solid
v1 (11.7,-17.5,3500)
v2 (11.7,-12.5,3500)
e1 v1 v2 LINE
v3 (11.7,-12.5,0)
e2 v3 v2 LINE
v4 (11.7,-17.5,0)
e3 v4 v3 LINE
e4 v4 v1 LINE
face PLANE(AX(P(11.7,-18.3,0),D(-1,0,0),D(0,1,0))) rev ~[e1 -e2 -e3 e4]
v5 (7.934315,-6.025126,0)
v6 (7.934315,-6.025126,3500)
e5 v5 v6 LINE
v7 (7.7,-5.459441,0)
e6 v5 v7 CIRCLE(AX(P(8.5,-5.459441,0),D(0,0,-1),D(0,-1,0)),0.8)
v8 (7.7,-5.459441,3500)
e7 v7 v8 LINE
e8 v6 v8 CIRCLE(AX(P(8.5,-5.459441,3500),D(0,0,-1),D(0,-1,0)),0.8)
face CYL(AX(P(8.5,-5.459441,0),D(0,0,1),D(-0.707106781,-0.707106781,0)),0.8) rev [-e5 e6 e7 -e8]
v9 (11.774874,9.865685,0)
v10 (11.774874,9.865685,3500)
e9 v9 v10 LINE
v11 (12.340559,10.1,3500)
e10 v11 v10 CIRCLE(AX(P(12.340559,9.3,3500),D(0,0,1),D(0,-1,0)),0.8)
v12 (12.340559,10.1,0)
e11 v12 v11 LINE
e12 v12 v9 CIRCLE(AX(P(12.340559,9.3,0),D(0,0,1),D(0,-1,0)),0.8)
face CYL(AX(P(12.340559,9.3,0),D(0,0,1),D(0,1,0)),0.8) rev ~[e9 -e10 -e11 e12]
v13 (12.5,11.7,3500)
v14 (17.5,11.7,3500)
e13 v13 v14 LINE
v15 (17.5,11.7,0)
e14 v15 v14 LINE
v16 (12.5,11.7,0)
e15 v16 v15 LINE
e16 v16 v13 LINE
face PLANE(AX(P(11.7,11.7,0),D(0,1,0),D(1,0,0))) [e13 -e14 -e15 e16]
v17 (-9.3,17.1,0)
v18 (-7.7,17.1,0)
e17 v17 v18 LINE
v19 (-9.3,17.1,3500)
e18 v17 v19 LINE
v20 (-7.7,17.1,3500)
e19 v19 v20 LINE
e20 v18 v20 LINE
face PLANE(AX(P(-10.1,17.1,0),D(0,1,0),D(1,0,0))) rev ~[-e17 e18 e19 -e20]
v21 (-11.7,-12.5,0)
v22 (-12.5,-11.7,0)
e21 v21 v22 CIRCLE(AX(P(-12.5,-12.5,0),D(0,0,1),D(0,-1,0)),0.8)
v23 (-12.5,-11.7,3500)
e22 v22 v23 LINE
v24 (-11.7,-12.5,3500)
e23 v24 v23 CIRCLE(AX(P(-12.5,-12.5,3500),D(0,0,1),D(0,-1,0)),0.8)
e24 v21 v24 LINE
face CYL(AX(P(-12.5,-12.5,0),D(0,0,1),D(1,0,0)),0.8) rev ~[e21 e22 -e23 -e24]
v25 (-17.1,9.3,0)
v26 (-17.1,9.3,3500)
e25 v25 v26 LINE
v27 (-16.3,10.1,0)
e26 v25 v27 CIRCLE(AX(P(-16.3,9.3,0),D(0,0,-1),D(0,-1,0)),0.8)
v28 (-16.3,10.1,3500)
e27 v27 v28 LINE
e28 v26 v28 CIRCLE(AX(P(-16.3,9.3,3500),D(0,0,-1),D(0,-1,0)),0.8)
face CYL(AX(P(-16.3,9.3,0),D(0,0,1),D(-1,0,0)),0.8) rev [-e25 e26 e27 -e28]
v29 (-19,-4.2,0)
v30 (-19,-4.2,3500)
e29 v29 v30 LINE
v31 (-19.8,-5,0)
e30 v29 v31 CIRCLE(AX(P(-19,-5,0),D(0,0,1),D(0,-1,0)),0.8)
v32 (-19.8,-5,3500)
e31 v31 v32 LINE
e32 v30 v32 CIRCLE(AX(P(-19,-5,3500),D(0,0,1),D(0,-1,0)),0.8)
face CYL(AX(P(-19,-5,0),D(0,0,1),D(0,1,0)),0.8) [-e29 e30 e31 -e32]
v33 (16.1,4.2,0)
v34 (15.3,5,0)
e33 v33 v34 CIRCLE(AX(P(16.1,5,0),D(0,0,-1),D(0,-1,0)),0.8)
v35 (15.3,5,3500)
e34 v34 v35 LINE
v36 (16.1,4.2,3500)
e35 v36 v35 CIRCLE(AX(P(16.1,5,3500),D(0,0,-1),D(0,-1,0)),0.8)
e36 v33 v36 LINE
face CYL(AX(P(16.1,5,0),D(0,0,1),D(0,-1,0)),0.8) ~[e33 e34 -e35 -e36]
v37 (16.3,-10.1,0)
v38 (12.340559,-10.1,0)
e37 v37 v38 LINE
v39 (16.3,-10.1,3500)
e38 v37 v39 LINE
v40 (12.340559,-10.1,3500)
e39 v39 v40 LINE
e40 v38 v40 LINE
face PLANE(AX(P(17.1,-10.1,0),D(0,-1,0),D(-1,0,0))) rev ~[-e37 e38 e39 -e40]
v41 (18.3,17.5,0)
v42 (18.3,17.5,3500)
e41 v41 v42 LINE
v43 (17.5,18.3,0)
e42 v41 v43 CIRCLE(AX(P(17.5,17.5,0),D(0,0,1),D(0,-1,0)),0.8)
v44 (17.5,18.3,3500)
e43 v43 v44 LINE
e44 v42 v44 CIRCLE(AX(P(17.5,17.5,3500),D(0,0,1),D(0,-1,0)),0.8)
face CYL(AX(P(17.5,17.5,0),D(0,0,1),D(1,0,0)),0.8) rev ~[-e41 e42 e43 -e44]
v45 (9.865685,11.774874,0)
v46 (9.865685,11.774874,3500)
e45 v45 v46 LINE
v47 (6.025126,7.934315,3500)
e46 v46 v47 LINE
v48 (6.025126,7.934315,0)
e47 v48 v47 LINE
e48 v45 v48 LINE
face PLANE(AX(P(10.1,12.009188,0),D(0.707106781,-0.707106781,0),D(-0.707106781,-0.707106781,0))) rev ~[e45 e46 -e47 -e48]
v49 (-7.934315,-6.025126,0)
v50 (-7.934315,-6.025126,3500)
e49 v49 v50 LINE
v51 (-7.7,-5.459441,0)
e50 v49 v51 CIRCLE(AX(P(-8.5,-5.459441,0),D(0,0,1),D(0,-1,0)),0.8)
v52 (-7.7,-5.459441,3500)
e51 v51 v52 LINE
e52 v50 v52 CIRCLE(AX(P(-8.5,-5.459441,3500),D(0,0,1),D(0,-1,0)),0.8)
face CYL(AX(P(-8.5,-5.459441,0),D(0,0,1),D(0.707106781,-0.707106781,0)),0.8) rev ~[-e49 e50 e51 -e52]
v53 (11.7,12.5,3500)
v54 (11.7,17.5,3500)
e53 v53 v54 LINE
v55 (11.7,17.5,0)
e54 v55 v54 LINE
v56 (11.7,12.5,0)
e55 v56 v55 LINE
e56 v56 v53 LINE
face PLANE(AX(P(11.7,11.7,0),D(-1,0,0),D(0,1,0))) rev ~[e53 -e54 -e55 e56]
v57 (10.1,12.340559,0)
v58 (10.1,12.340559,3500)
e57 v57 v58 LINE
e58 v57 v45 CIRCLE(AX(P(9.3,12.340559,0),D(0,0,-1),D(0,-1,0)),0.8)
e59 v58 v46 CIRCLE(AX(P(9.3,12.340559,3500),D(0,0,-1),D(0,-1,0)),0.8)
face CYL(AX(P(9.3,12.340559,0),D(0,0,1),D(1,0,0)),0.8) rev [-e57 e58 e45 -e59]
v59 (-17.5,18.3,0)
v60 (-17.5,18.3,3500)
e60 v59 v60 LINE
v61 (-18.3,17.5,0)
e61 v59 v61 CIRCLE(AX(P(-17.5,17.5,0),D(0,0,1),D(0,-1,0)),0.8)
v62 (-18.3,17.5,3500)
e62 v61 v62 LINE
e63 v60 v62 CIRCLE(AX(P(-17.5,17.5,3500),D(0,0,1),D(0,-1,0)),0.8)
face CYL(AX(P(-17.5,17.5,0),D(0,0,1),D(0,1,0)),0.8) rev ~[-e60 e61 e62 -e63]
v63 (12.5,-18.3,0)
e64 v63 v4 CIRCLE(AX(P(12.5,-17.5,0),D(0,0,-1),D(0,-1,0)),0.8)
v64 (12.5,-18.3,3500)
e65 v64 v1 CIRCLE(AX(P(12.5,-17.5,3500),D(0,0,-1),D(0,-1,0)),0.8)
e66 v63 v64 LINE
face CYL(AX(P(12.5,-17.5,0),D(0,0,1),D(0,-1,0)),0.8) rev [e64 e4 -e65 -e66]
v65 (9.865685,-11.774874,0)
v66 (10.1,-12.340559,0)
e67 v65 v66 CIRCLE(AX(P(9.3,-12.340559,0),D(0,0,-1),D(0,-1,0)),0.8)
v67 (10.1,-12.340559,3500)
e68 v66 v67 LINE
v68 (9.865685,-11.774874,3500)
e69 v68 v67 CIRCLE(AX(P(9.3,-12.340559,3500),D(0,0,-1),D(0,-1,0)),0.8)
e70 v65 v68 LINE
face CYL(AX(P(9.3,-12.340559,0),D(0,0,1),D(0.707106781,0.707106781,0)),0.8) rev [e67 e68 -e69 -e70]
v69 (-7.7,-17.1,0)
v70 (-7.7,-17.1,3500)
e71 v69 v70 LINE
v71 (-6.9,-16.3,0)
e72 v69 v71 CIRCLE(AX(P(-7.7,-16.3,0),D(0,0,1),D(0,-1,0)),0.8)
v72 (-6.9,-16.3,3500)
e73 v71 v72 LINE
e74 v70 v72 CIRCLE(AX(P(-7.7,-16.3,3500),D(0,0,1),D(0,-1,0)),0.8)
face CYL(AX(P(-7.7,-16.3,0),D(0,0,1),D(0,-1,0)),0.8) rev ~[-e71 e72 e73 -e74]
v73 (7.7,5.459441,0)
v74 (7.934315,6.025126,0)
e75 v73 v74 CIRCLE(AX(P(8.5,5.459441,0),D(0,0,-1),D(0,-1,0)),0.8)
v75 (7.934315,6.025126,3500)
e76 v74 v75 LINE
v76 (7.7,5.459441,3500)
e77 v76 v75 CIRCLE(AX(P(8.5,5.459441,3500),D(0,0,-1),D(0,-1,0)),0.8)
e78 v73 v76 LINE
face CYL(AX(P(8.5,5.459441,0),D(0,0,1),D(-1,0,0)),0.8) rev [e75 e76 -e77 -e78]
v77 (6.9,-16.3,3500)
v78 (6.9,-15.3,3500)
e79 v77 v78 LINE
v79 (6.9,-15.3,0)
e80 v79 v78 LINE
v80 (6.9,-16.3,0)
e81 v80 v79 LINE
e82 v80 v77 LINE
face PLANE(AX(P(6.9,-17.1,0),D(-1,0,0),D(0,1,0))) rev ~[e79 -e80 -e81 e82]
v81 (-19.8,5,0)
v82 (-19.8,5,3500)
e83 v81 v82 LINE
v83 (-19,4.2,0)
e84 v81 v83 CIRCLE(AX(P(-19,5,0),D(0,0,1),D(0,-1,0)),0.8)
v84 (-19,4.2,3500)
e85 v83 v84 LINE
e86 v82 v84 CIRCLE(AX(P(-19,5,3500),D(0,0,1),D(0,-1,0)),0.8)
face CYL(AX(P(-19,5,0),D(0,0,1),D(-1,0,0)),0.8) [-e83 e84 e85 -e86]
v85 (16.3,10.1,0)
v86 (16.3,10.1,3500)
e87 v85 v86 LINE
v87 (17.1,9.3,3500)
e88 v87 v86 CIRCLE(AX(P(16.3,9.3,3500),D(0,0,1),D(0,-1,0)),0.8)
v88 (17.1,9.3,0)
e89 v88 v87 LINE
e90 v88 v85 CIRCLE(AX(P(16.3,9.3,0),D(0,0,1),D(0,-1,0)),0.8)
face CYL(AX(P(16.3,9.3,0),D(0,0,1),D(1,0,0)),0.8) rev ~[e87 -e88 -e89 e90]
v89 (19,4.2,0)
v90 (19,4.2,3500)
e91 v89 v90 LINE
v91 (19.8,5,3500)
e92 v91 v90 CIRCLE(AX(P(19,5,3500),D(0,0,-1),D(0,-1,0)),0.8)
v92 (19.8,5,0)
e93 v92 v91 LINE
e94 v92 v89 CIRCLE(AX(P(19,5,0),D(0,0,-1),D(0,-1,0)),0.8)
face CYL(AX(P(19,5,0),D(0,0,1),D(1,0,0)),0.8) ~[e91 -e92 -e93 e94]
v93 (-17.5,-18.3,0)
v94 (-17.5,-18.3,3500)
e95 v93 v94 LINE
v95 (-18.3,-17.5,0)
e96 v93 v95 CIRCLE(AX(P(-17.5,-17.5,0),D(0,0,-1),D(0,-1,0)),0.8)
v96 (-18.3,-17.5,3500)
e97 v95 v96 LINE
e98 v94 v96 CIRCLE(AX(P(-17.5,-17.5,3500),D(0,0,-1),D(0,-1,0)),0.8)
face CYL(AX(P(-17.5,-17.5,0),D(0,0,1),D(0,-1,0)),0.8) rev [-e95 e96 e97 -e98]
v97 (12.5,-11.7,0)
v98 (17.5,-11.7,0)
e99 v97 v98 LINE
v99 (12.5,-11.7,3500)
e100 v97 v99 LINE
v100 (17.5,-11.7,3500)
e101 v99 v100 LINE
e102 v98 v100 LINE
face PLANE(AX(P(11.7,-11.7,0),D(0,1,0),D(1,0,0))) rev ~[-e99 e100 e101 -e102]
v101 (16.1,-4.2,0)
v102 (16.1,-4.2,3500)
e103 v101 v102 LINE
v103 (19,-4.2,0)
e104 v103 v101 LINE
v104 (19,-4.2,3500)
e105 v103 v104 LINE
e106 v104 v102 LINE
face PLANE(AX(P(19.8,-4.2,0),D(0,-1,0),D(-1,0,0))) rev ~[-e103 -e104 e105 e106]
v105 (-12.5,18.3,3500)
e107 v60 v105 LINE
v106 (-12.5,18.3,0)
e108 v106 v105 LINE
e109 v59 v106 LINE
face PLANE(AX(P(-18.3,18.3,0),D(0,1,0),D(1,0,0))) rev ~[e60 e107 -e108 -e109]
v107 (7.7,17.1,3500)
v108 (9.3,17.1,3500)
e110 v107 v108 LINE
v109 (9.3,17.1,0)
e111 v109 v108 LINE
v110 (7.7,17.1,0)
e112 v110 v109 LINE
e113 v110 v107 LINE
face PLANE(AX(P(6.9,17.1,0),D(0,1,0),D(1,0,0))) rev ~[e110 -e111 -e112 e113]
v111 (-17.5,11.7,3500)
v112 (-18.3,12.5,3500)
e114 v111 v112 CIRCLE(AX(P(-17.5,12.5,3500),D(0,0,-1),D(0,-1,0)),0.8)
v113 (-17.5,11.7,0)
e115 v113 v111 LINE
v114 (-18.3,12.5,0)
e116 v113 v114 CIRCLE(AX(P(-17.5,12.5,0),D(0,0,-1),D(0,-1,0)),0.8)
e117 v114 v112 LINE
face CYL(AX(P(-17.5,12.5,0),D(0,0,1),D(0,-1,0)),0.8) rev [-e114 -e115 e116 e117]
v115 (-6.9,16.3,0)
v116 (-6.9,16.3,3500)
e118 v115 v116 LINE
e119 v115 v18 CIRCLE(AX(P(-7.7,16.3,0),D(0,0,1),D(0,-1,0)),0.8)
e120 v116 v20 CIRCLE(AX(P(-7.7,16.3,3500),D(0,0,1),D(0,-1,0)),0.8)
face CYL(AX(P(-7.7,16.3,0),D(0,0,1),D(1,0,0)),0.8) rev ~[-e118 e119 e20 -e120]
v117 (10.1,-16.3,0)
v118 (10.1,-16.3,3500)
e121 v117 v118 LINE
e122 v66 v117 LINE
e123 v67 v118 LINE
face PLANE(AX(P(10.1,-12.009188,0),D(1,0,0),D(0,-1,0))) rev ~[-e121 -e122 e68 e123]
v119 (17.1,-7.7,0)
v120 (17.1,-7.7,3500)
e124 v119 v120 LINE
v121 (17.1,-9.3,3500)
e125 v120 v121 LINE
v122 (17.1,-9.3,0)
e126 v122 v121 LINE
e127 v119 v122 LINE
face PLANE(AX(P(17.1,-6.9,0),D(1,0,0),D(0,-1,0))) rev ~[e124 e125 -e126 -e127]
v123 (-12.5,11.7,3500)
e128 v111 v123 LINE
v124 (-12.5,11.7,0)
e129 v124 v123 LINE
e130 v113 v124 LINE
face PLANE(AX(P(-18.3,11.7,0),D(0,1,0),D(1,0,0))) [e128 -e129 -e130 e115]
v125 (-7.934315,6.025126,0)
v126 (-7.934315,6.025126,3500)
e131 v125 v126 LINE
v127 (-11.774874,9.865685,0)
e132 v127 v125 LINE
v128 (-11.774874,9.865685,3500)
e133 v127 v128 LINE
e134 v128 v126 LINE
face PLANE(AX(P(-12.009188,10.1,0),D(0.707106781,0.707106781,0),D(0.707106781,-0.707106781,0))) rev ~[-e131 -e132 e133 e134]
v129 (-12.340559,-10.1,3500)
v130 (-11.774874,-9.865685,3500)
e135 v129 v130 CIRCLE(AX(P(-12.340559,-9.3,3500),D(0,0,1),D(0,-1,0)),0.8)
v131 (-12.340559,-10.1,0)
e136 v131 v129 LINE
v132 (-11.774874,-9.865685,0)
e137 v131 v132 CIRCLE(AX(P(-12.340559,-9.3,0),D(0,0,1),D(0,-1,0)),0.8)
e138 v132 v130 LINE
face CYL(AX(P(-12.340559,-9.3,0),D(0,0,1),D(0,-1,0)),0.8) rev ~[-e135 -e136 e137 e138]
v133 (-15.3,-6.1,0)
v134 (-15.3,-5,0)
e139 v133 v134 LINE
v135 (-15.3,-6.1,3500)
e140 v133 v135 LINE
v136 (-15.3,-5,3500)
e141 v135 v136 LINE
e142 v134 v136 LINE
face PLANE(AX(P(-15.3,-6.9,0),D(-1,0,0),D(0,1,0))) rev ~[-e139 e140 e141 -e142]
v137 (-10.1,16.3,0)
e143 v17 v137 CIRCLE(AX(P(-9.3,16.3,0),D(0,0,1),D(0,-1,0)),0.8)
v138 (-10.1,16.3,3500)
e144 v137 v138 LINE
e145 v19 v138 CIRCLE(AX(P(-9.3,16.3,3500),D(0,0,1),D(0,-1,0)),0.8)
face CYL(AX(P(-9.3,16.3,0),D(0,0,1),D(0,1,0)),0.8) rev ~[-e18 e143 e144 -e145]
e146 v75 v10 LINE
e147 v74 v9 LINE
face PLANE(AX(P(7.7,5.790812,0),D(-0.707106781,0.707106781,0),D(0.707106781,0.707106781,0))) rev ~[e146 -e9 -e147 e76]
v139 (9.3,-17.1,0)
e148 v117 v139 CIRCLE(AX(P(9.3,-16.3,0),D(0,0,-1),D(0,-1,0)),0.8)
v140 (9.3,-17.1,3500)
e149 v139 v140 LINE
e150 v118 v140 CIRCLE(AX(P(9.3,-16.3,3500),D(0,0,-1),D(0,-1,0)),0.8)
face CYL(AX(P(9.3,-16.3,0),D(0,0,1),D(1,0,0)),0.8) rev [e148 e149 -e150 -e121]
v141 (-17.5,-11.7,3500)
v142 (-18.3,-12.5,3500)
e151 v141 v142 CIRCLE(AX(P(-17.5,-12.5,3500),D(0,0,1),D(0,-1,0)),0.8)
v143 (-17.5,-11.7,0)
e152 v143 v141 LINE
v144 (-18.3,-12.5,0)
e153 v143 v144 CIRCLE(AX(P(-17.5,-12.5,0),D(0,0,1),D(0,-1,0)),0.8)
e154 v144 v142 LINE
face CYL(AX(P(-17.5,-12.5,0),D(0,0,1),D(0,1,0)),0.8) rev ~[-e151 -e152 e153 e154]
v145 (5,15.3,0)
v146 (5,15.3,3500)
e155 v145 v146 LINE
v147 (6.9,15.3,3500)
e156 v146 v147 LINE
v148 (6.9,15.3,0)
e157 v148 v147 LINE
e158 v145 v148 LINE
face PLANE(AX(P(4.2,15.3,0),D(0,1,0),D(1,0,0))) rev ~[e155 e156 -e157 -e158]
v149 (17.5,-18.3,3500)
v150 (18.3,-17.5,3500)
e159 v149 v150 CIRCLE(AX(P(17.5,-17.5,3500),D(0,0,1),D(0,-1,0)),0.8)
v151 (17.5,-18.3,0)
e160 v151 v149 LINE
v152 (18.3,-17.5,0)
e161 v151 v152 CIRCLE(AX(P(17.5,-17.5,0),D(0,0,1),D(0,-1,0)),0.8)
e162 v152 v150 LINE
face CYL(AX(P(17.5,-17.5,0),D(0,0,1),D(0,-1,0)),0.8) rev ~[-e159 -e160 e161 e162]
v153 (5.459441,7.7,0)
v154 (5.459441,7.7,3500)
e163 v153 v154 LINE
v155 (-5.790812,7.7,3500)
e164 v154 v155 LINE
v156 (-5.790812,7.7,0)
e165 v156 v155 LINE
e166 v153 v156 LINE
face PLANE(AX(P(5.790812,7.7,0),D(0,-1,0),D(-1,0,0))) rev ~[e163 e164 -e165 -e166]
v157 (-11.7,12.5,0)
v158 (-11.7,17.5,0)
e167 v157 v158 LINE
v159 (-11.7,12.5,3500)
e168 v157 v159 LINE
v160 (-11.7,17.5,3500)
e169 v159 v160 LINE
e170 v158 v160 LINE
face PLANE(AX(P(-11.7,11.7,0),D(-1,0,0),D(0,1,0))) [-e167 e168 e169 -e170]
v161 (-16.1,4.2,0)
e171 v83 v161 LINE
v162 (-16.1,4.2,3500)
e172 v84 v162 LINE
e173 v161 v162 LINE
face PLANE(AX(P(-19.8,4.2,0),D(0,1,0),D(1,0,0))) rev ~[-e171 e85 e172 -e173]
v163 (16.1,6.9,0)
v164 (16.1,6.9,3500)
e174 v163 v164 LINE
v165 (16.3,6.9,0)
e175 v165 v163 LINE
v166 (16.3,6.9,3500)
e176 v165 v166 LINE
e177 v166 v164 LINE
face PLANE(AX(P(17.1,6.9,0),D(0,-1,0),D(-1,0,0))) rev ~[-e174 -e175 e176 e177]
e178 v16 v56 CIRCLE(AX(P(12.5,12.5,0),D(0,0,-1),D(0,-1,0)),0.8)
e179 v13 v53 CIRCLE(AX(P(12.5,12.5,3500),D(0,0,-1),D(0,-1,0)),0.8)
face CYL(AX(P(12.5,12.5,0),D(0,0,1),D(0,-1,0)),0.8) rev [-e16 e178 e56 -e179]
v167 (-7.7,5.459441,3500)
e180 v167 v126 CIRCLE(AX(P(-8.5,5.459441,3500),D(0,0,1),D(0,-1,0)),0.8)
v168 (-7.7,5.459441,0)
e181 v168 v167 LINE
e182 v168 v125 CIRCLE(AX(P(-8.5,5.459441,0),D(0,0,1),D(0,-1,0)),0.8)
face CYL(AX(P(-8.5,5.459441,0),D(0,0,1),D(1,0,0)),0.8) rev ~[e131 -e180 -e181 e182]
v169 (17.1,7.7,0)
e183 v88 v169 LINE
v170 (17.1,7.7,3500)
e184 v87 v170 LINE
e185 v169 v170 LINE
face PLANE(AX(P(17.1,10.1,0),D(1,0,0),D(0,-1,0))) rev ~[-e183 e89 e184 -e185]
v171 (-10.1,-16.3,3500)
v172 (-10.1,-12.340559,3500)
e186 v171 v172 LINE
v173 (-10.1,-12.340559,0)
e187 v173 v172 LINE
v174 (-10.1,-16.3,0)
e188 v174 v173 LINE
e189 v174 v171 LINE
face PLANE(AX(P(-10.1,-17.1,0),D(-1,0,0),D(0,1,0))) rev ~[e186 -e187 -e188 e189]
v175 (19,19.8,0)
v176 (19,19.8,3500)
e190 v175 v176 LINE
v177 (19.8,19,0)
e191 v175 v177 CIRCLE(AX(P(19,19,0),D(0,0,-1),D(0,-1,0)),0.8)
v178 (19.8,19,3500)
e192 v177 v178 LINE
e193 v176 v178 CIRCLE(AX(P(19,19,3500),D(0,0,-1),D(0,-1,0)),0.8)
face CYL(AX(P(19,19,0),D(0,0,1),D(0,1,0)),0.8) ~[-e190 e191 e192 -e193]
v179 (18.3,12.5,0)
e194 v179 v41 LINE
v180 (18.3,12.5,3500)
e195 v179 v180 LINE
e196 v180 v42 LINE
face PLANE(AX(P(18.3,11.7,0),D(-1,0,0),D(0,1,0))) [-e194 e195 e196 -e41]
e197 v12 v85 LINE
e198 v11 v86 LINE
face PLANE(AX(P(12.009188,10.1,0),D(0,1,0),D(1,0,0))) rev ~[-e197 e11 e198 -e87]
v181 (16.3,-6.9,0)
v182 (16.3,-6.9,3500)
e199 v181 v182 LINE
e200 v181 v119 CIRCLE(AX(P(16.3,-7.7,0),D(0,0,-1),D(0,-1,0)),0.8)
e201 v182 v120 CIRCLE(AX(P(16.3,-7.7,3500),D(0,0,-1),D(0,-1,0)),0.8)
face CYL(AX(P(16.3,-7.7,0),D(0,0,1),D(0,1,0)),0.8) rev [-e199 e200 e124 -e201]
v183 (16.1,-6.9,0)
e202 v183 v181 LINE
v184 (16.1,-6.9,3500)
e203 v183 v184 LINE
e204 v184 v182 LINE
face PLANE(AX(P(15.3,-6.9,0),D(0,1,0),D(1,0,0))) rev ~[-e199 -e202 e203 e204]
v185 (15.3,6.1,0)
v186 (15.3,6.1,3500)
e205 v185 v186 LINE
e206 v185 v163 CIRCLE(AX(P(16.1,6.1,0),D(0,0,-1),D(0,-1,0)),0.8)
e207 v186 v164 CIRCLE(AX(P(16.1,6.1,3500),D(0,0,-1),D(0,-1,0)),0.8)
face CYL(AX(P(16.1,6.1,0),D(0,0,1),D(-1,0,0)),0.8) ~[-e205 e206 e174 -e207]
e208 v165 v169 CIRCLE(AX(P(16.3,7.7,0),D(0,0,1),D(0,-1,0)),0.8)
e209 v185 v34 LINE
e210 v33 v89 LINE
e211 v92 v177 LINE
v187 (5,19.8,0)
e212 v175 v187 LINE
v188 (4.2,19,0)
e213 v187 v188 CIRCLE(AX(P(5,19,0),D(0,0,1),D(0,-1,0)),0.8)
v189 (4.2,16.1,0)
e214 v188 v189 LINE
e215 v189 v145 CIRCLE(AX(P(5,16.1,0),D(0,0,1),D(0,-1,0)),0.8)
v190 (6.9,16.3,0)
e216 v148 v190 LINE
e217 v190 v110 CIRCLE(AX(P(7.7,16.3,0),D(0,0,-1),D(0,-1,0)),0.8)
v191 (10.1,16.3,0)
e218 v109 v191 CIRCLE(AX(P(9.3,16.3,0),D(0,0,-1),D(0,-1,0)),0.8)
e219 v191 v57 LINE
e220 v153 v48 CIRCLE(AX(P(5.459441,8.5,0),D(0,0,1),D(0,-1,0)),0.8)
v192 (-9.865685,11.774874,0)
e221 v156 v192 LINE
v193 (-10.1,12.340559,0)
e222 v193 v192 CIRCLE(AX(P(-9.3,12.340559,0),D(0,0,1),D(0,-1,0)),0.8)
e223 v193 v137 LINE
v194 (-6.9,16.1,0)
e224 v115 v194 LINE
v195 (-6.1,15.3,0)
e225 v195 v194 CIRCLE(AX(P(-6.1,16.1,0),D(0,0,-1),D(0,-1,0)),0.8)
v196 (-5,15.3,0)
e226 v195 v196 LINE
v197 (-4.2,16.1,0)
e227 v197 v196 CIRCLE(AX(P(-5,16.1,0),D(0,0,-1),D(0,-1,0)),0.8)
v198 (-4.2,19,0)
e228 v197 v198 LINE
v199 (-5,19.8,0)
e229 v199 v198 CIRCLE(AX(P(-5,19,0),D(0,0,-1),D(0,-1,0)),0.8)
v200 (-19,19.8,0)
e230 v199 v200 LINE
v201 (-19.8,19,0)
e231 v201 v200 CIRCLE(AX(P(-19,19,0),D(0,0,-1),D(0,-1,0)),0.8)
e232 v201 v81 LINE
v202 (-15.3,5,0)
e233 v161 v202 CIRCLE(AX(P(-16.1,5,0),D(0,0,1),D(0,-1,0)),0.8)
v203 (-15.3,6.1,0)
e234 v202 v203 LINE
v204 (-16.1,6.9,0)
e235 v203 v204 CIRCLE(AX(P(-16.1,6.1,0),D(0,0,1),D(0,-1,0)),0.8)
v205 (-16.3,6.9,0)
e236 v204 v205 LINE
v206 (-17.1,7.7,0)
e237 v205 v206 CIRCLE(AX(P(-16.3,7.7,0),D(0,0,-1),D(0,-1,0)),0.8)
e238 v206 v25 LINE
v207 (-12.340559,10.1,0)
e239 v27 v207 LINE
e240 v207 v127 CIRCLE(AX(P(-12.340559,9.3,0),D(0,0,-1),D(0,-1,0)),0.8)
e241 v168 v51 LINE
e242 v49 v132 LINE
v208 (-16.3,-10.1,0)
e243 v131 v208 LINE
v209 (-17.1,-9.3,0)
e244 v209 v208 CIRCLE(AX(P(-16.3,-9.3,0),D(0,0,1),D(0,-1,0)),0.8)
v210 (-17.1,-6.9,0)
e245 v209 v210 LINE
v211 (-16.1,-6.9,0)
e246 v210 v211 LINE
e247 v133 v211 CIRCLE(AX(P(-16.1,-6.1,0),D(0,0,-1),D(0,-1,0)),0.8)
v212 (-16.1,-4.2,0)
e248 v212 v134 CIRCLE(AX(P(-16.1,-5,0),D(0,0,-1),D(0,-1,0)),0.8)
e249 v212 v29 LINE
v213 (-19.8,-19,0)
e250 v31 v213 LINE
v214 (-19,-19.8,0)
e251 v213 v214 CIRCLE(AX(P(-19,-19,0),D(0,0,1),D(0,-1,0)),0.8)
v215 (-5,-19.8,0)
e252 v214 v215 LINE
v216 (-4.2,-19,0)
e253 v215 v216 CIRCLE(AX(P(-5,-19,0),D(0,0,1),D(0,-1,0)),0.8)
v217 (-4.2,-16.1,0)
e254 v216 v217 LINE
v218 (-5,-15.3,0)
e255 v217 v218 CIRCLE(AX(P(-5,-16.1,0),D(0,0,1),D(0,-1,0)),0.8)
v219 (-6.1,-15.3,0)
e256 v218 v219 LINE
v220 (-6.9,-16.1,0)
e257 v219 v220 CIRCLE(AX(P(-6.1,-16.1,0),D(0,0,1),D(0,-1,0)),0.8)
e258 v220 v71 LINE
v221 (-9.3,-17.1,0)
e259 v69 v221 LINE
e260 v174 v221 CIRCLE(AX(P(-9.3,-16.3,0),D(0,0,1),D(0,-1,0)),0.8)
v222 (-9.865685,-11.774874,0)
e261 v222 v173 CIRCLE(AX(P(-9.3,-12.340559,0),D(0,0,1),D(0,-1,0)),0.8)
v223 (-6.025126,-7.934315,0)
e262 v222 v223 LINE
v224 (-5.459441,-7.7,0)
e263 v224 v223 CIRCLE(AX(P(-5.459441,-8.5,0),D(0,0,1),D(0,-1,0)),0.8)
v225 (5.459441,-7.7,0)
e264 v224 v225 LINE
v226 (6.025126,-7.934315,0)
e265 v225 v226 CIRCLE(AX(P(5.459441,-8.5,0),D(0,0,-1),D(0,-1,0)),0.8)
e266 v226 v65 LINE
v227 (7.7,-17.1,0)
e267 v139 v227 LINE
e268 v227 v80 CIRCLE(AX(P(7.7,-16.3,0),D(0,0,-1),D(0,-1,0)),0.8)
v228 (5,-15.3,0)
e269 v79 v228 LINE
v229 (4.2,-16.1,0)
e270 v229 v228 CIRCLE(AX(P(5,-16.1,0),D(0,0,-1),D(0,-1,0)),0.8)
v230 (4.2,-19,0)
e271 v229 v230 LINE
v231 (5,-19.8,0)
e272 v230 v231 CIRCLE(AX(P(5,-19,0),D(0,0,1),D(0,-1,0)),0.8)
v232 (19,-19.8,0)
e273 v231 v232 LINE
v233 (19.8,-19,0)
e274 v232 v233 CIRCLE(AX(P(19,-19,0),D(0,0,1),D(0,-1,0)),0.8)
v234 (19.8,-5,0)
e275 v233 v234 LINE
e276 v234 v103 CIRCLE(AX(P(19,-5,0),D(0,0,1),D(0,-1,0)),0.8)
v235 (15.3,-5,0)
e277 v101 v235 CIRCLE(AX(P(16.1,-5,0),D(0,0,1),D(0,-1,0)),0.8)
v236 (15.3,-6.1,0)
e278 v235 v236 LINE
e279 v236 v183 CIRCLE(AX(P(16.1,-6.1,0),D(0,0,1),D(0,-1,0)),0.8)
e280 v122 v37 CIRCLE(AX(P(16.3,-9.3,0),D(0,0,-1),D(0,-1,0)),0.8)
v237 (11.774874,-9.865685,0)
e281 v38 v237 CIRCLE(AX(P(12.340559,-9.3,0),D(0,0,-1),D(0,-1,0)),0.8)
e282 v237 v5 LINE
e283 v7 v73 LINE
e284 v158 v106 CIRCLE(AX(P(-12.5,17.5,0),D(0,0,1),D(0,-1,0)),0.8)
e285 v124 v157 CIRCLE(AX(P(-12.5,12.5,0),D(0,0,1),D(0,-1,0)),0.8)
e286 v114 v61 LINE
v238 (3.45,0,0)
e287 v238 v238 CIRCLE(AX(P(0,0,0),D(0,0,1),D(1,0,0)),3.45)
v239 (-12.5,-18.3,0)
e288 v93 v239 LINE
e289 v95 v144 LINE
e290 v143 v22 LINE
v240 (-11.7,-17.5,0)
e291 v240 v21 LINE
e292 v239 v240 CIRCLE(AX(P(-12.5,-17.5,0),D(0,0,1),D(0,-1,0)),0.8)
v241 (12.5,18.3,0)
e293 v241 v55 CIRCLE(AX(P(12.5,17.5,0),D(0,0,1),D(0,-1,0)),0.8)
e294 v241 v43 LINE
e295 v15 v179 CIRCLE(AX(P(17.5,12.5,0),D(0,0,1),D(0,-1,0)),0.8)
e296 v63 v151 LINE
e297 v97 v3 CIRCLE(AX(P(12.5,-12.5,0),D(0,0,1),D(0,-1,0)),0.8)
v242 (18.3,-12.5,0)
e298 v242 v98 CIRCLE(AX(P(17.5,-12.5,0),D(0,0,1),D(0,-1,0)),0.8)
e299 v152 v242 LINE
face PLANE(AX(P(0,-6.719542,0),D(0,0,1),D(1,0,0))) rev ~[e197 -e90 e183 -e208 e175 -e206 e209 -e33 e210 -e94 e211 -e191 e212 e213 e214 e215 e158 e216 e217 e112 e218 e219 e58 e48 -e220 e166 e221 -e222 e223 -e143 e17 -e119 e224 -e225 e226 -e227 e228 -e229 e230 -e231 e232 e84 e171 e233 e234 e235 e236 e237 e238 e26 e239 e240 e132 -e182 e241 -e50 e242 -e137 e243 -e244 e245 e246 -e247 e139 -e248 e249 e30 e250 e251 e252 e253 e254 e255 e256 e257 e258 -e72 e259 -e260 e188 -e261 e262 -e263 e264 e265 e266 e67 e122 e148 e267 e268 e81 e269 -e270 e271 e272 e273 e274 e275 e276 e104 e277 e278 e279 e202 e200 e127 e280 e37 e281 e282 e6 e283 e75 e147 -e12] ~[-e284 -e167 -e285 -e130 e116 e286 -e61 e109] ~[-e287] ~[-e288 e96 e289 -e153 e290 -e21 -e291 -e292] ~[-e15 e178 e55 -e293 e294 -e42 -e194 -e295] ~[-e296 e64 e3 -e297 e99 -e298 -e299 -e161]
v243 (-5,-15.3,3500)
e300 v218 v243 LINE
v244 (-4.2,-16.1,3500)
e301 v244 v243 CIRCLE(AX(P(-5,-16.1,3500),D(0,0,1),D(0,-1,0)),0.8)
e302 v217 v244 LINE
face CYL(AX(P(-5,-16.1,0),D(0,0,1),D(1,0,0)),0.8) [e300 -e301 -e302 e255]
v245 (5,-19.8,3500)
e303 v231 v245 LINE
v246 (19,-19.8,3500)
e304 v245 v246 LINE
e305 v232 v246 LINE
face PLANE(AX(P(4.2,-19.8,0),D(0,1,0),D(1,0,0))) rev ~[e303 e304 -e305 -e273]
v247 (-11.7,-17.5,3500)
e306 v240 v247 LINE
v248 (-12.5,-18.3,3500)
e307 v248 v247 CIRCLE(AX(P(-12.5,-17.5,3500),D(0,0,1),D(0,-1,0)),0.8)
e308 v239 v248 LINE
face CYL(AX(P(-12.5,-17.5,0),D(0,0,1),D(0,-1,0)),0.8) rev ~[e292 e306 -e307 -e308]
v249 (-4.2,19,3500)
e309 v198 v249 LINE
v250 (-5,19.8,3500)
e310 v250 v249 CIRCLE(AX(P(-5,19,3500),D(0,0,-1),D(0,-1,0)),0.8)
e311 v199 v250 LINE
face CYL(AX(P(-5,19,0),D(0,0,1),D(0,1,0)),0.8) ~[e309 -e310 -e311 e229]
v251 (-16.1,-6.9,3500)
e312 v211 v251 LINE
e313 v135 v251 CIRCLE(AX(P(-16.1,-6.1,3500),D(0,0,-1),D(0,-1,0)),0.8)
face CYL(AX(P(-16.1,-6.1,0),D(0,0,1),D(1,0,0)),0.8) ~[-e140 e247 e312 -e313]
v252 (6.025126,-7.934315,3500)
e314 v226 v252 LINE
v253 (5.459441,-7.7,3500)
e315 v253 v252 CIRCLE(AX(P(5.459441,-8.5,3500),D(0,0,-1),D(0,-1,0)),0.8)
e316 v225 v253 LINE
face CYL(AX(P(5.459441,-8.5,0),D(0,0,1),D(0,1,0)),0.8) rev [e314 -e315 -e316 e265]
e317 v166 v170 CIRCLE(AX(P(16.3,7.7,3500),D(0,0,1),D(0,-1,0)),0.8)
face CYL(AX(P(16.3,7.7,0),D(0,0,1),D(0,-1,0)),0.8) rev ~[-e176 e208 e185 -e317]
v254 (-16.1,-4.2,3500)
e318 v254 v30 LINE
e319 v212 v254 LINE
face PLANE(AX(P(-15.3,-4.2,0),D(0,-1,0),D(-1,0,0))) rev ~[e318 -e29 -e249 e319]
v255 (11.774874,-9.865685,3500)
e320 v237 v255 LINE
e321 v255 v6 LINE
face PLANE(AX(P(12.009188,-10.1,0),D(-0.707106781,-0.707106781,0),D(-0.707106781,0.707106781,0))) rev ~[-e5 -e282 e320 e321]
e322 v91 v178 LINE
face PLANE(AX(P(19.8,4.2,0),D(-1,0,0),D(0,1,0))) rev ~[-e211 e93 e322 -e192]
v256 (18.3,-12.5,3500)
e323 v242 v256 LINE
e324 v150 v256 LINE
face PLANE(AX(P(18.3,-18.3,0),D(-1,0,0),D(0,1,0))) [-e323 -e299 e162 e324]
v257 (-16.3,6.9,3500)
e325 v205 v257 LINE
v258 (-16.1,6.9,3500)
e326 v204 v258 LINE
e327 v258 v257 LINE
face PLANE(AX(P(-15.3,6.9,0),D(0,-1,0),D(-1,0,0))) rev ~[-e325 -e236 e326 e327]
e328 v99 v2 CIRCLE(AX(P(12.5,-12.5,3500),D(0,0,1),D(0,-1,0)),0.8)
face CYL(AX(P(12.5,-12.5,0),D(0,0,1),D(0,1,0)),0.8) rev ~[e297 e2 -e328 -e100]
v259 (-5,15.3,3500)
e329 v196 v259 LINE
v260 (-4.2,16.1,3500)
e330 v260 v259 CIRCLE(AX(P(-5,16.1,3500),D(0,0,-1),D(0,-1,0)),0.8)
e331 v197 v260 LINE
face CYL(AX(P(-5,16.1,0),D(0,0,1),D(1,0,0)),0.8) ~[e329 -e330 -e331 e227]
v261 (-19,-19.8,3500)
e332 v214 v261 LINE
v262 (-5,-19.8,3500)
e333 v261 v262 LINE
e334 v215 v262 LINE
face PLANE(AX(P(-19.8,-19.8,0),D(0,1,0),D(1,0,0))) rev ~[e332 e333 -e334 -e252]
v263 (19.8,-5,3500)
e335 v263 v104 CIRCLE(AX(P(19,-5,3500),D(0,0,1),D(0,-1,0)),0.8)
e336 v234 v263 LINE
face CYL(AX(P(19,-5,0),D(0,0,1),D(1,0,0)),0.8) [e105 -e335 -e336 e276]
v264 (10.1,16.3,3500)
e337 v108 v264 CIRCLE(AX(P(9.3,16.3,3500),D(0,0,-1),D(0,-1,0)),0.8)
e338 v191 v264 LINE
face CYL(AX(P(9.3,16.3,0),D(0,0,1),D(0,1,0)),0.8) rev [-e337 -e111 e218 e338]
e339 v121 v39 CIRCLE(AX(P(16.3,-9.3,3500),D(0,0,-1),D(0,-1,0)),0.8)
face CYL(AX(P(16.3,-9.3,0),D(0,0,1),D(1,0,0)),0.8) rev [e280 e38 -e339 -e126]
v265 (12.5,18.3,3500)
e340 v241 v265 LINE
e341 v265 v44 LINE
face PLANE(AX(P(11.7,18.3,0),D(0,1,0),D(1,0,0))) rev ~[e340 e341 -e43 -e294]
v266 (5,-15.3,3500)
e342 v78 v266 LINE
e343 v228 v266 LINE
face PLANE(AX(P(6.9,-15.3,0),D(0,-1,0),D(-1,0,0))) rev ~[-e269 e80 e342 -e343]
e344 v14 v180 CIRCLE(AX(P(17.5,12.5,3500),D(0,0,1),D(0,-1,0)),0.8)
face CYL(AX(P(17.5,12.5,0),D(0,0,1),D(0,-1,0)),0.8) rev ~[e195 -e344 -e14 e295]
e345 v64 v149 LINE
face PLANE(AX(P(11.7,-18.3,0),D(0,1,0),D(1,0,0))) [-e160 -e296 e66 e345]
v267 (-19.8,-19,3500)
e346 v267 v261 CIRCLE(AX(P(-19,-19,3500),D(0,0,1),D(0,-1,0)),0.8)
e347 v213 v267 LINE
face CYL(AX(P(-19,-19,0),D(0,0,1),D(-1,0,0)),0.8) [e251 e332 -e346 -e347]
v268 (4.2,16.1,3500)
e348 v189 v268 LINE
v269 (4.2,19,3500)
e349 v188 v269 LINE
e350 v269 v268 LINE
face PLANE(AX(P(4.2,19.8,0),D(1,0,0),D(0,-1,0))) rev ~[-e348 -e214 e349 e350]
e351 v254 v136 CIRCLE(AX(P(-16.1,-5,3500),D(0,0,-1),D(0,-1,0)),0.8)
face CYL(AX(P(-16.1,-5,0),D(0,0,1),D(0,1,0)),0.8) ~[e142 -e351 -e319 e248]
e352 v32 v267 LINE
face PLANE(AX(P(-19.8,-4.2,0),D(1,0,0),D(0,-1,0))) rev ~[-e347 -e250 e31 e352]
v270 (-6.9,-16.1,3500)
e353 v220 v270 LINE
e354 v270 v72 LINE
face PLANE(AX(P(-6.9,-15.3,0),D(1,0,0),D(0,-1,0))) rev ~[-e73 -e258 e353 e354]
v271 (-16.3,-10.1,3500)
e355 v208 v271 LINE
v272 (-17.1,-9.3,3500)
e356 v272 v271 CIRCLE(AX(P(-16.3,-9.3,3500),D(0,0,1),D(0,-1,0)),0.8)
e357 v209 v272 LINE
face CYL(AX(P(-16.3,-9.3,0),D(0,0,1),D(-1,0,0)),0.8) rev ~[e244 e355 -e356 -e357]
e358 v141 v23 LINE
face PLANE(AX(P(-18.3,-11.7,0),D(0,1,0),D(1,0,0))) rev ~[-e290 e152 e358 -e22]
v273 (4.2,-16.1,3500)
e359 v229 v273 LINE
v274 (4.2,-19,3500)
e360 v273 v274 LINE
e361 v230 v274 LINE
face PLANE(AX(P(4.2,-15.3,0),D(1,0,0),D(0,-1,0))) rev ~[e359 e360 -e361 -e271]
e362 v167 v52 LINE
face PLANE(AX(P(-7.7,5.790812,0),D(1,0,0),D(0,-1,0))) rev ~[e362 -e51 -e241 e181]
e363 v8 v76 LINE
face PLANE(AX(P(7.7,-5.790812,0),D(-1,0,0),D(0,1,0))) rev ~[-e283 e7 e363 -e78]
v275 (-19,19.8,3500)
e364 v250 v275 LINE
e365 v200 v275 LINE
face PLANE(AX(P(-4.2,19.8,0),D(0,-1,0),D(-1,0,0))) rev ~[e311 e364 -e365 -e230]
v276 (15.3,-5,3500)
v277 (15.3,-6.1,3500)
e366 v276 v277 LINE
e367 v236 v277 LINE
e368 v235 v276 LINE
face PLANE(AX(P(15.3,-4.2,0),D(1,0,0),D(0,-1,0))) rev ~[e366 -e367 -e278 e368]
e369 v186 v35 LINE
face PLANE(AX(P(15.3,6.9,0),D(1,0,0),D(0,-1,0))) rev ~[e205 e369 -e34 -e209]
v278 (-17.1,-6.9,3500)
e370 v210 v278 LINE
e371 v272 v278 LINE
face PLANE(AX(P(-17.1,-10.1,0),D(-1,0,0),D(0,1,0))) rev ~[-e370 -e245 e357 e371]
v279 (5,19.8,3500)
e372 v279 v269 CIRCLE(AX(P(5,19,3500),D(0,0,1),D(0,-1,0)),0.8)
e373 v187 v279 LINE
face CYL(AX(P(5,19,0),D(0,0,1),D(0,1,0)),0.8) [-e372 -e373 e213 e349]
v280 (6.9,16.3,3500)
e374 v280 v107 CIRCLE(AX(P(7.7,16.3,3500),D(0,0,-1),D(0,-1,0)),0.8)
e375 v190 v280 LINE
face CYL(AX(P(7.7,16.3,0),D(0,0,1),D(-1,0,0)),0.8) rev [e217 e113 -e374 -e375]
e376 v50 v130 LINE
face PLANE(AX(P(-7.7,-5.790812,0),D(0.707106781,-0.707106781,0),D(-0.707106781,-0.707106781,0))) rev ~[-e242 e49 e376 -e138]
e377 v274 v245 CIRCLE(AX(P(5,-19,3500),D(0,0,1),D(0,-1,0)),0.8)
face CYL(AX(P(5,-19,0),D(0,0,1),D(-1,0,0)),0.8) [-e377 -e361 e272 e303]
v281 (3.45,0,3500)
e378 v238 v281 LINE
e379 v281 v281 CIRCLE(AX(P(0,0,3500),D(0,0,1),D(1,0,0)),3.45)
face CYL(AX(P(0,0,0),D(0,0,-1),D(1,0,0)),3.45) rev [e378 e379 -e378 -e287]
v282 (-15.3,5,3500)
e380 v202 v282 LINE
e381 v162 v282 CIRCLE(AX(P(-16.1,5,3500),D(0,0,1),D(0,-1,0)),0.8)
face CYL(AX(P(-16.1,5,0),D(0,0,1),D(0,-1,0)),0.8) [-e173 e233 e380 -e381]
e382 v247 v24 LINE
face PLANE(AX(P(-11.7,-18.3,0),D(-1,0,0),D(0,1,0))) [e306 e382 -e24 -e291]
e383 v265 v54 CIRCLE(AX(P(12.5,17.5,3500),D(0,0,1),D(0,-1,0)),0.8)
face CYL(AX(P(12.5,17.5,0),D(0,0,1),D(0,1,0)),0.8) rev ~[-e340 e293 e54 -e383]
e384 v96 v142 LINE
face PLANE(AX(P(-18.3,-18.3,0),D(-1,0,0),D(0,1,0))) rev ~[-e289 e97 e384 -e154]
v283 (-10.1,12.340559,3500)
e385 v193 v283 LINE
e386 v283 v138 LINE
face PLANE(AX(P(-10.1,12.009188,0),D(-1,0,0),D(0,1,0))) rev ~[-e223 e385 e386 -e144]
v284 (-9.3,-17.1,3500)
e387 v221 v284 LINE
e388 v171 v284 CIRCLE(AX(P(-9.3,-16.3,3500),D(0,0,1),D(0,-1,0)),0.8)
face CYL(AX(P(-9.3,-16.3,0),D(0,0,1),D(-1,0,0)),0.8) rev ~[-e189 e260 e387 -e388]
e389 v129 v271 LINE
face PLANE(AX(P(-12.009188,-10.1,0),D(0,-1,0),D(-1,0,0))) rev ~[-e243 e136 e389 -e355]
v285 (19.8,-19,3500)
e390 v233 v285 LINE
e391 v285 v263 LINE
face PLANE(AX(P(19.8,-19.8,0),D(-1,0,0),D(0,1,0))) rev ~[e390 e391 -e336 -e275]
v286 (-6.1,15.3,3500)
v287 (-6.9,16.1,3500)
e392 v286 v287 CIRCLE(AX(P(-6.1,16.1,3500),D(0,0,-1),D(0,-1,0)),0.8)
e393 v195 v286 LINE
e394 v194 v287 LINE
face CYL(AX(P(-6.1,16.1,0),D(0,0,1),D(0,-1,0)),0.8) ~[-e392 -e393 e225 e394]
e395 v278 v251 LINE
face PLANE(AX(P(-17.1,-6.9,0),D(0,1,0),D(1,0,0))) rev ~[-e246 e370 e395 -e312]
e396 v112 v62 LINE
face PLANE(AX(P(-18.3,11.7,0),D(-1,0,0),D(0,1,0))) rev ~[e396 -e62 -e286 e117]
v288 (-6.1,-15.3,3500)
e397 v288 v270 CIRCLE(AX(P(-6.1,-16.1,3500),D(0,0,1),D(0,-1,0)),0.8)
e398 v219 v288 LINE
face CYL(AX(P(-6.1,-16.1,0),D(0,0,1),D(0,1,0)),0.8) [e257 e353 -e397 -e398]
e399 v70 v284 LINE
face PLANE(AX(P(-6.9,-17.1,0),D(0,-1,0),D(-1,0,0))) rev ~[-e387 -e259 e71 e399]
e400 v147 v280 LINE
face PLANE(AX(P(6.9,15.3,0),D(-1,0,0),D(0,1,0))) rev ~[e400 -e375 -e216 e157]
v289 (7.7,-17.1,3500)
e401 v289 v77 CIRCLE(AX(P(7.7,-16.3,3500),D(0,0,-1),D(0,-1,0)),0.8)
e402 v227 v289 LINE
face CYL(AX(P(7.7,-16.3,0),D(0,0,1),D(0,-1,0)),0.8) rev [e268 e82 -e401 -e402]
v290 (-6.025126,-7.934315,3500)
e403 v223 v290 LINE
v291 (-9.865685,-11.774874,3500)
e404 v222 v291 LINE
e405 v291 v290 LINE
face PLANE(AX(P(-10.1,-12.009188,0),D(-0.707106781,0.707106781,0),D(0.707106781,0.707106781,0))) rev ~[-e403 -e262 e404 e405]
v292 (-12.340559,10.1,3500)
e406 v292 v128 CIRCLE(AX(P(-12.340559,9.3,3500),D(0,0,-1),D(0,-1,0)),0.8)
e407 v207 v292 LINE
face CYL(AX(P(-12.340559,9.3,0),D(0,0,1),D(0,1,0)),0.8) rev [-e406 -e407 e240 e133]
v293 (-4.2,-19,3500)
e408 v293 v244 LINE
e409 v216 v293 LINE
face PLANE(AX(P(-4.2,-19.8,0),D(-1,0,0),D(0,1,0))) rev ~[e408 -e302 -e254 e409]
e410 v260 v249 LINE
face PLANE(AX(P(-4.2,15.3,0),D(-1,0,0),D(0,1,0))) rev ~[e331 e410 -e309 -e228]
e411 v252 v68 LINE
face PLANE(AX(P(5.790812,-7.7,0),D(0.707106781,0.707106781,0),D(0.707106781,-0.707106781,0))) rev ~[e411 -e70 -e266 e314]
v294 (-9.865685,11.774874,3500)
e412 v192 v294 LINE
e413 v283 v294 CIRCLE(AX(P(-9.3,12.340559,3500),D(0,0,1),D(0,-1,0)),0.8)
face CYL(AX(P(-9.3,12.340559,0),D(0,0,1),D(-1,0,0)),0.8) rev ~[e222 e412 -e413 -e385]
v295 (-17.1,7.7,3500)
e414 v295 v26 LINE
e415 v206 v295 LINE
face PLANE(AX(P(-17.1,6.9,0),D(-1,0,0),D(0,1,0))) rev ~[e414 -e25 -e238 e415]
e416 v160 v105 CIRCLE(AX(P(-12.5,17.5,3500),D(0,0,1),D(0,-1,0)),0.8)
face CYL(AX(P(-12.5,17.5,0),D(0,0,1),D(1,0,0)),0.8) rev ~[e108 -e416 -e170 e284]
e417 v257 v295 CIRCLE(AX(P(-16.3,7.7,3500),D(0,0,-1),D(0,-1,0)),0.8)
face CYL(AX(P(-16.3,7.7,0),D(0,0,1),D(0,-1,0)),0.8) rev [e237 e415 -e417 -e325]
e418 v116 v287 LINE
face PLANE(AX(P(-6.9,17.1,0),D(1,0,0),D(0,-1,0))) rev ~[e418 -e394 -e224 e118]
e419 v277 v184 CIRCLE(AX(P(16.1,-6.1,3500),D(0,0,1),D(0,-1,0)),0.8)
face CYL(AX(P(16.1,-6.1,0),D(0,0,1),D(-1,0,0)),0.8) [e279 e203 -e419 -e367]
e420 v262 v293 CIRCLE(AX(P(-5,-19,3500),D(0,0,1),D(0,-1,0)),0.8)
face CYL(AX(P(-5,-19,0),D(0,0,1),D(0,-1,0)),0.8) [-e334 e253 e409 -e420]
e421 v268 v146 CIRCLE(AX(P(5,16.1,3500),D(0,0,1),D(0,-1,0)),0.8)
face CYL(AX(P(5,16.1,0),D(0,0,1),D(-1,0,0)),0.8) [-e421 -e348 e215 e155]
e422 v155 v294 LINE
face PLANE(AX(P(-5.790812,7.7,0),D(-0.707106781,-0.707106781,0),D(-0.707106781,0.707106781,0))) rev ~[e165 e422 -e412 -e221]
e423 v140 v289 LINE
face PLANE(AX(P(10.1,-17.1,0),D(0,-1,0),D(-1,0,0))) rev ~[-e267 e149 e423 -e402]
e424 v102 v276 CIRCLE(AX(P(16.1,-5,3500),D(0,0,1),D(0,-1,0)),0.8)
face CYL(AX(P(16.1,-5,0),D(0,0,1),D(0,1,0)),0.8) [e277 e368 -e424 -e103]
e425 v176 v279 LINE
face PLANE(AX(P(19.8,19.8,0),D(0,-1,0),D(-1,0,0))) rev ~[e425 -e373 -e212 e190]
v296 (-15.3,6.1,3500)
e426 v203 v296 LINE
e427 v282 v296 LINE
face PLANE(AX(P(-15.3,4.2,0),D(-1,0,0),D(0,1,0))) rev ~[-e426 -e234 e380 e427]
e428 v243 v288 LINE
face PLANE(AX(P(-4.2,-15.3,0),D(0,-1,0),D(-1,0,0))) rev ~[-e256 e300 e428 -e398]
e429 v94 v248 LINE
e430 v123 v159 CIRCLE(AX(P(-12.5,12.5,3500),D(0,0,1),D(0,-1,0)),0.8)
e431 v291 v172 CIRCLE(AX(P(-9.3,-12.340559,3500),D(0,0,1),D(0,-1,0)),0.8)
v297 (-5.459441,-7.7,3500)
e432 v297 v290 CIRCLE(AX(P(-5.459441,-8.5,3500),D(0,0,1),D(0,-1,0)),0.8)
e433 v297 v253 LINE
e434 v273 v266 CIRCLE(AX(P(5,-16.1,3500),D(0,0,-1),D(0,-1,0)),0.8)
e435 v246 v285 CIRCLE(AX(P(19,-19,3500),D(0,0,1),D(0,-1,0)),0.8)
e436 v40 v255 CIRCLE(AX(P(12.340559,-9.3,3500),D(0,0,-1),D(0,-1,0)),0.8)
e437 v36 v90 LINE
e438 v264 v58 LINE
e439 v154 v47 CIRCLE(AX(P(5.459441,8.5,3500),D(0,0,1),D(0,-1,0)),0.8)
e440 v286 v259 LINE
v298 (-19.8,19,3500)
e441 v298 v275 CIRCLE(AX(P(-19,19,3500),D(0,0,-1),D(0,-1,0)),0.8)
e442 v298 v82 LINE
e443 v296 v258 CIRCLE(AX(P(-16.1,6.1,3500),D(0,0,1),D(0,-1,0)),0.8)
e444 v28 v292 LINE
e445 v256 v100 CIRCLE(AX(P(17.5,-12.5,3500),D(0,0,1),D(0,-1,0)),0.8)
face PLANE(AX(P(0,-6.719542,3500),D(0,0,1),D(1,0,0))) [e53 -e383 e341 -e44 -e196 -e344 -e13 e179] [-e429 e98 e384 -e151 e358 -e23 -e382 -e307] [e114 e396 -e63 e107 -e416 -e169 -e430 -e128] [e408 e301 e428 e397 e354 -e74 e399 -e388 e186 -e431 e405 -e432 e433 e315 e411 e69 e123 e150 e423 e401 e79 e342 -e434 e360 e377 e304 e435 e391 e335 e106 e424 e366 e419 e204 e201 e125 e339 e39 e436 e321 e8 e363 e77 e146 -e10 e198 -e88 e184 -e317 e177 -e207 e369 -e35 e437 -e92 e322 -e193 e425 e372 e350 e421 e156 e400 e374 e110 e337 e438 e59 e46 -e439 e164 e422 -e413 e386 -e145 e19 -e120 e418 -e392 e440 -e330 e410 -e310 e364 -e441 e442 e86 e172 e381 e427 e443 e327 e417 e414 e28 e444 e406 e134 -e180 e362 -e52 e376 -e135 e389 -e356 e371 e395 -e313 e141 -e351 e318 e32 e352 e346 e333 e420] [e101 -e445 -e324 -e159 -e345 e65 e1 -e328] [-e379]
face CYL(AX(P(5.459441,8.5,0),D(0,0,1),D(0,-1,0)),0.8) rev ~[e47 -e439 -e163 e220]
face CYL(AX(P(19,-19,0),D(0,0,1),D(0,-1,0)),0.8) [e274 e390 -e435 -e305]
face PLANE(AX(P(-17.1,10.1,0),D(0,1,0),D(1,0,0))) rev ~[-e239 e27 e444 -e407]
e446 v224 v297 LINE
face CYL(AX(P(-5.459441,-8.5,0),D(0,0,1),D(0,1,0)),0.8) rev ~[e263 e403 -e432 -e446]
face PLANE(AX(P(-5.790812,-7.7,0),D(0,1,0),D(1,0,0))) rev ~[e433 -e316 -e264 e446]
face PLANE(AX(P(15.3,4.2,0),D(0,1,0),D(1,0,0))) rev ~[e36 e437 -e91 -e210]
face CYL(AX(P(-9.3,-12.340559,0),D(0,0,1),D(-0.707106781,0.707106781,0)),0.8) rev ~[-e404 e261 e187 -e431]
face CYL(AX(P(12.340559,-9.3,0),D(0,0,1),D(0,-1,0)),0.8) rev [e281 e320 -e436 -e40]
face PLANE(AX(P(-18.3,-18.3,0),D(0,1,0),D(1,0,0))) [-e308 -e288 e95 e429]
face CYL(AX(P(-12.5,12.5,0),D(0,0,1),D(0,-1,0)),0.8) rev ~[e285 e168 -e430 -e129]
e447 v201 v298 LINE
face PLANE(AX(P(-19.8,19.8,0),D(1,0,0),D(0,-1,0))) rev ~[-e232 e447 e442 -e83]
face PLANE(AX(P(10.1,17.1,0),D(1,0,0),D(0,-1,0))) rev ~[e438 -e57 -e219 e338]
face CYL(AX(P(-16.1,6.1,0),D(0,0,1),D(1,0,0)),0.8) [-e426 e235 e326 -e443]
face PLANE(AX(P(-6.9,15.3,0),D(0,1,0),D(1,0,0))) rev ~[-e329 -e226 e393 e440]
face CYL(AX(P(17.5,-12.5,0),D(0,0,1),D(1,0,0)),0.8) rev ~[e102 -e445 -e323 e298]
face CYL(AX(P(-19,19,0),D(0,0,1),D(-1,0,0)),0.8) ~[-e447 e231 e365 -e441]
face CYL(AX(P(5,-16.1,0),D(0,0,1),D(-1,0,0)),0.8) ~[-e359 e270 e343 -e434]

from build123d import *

# Parameters (mm, degrees)
SKETCH1_W           = 6.6
SKETCH1_H           = 6.6
SKETCH1_R           = 3.45
BOSS_EXTRUDE3_DEPTH = 3500
FILLET1_R           = 0.8


with BuildPart() as part:
    # Sketch1 → Boss-Extrude3 (new body)
    # profile 1 of 9: a face of its own
    with BuildSketch(Plane.XY):
        Polygon((19.8, 19.8), (4.2, 19.8), (4.2, 15.3), (6.9, 15.3), (6.9, 17.1), (10.1, 17.1), (10.1, 12.009188309), (5.790811691, 7.7), (7.7, 7.7), (7.7, 5.790811691), (12.009188309, 10.1), (17.1, 10.1), (17.1, 6.9), (15.3, 6.9), (15.3, 4.2), (19.8, 4.2), align=None)
        with Locations((15, 15)):
            Rectangle(SKETCH1_W, SKETCH1_H, mode=Mode.SUBTRACT)
    # profile 2 of 9: a face of its own
    with BuildSketch(Plane.XY):
        Polygon((4.2, -15.3), (4.2, -19.8), (19.8, -19.8), (19.8, -4.2), (15.3, -4.2), (15.3, -6.9), (17.1, -6.9), (17.1, -10.1), (12.009188309, -10.1), (7.7, -5.790811691), (7.7, -7.7), (5.790811691, -7.7), (10.1, -12.009188309), (10.1, -17.1), (6.9, -17.1), (6.9, -15.3), align=None)
        with Locations((15, -15)):
            Rectangle(SKETCH1_W, SKETCH1_H, mode=Mode.SUBTRACT)
    # profile 3 of 9: a face of its own
    with BuildSketch(Plane.XY):
        Polygon((-15.3, -4.2), (-19.8, -4.2), (-19.8, -19.8), (-4.2, -19.8), (-4.2, -15.3), (-6.9, -15.3), (-6.9, -17.1), (-10.1, -17.1), (-10.1, -12.009188309), (-5.790811691, -7.7), (-7.7, -7.7), (-7.7, -5.790811691), (-12.009188309, -10.1), (-17.1, -10.1), (-17.1, -6.9), (-15.3, -6.9), align=None)
        with Locations((-15, -15)):
            Rectangle(SKETCH1_W, SKETCH1_H, mode=Mode.SUBTRACT)
    # profile 4 of 9: a face of its own
    with BuildSketch(Plane.XY):
        Polygon((-19.8, 19.8), (-19.8, 4.2), (-15.3, 4.2), (-15.3, 6.9), (-17.1, 6.9), (-17.1, 10.1), (-12.009188309, 10.1), (-7.7, 5.790811691), (-7.7, 7.7), (-5.790811691, 7.7), (-10.1, 12.009188309), (-10.1, 17.1), (-6.9, 17.1), (-6.9, 15.3), (-4.2, 15.3), (-4.2, 19.8), align=None)
        with Locations((-15, 15)):
            Rectangle(SKETCH1_W, SKETCH1_H, mode=Mode.SUBTRACT)
    # profile 5 of 9: a face of its own
    with BuildSketch(Plane.XY):
        Polygon((7.7, -5.790811691), (7.7, 5.790811691), (5.27, 3.360811691), (5.27, 0), (5.27, -3.360811691), align=None)
    # profile 6 of 9: a face of its own
    with BuildSketch(Plane.XY):
        Polygon((-7.7, 7.7), (-7.7, 5.790811691), (-5.27, 3.360811691), (-5.27, 0), (-5.27, -3.360811691), (-7.7, -5.790811691), (-7.7, -7.7), (-5.790811691, -7.7), (-3.360811691, -5.27), (0, -5.27), (3.360811691, -5.27), (5.790811691, -7.7), (7.7, -7.7), (7.7, -5.790811691), (5.27, -3.360811691), (5.27, 0), (5.27, 3.360811691), (7.7, 5.790811691), (7.7, 7.7), (5.790811691, 7.7), (3.360811691, 5.27), (0, 5.27), (-3.360811691, 5.27), (-5.790811691, 7.7), align=None)
        Circle(SKETCH1_R, mode=Mode.SUBTRACT)
    # profile 7 of 9: a face of its own
    with BuildSketch(Plane.XY):
        Polygon((5.790811691, 7.7), (-5.790811691, 7.7), (-3.360811691, 5.27), (0, 5.27), (3.360811691, 5.27), align=None)
    # profile 8 of 9: a face of its own
    with BuildSketch(Plane.XY):
        Polygon((-5.27, 3.360811691), (-7.7, 5.790811691), (-7.7, -5.790811691), (-5.27, -3.360811691), (-5.27, 0), align=None)
    # profile 9 of 9: a face of its own
    with BuildSketch(Plane.XY):
        Polygon((-3.360811691, -5.27), (-5.790811691, -7.7), (5.790811691, -7.7), (3.360811691, -5.27), (0, -5.27), align=None)
    extrude(amount=BOSS_EXTRUDE3_DEPTH)

    # Fillet1
    fillet1_edges = [part.edges().sort_by_distance(p)[0] for p in [
        (-11.7, -11.7, 1750),
        (-18.3, -11.7, 1750),
        (-18.3, -18.3, 1750),
        (-11.7, -18.3, 1750),
        (11.7, -11.7, 1750),
        (11.7, -18.3, 1750),
        (18.3, -18.3, 1750),
        (18.3, -11.7, 1750),
        (-18.3, 18.3, 1750),
        (-18.3, 11.7, 1750),
        (-11.7, 11.7, 1750),
        (-11.7, 18.3, 1750),
        (11.7, 11.7, 1750),
        (18.3, 11.7, 1750),
        (18.3, 18.3, 1750),
        (11.7, 18.3, 1750),
        (-7.7, 5.790811691, 1750),
        (-12.009188309, 10.1, 1750),
        (-17.1, 10.1, 1750),
        (-17.1, 6.9, 1750),
        (-15.3, 6.9, 1750),
        (-15.3, 4.2, 1750),
        (-19.8, 4.2, 1750),
        (-19.8, 19.8, 1750),
        (-4.2, 19.8, 1750),
        (-4.2, 15.3, 1750),
        (-6.9, 15.3, 1750),
        (-6.9, 17.1, 1750),
        (-10.1, 17.1, 1750),
        (-10.1, 12.009188309, 1750),
        (5.790811691, 7.7, 1750),
        (10.1, 12.009188309, 1750),
        (10.1, 17.1, 1750),
        (6.9, 17.1, 1750),
        (4.2, 15.3, 1750),
        (4.2, 19.8, 1750),
        (19.8, 19.8, 1750),
        (19.8, 4.2, 1750),
        (15.3, 4.2, 1750),
        (15.3, 6.9, 1750),
        (17.1, 6.9, 1750),
        (17.1, 10.1, 1750),
        (12.009188309, 10.1, 1750),
        (7.7, 5.790811691, 1750),
        (7.7, -5.790811691, 1750),
        (12.009188309, -10.1, 1750),
        (17.1, -10.1, 1750),
        (17.1, -6.9, 1750),
        (15.3, -6.9, 1750),
        (15.3, -4.2, 1750),
        (19.8, -4.2, 1750),
        (19.8, -19.8, 1750),
        (4.2, -19.8, 1750),
        (4.2, -15.3, 1750),
        (6.9, -17.1, 1750),
        (10.1, -17.1, 1750),
        (10.1, -12.009188309, 1750),
        (5.790811691, -7.7, 1750),
        (-5.790811691, -7.7, 1750),
        (-10.1, -12.009188309, 1750),
        (-10.1, -17.1, 1750),
        (-6.9, -17.1, 1750),
        (-6.9, -15.3, 1750),
        (-4.2, -15.3, 1750),
        (-4.2, -19.8, 1750),
        (-19.8, -19.8, 1750),
        (-19.8, -4.2, 1750),
        (-15.3, -4.2, 1750),
        (-15.3, -6.9, 1750),
        (-17.1, -10.1, 1750),
        (-12.009188309, -10.1, 1750),
        (-7.7, -5.790811691, 1750),
    ]]
    fillet(fillet1_edges, radius=FILLET1_R)


solid = part.part
